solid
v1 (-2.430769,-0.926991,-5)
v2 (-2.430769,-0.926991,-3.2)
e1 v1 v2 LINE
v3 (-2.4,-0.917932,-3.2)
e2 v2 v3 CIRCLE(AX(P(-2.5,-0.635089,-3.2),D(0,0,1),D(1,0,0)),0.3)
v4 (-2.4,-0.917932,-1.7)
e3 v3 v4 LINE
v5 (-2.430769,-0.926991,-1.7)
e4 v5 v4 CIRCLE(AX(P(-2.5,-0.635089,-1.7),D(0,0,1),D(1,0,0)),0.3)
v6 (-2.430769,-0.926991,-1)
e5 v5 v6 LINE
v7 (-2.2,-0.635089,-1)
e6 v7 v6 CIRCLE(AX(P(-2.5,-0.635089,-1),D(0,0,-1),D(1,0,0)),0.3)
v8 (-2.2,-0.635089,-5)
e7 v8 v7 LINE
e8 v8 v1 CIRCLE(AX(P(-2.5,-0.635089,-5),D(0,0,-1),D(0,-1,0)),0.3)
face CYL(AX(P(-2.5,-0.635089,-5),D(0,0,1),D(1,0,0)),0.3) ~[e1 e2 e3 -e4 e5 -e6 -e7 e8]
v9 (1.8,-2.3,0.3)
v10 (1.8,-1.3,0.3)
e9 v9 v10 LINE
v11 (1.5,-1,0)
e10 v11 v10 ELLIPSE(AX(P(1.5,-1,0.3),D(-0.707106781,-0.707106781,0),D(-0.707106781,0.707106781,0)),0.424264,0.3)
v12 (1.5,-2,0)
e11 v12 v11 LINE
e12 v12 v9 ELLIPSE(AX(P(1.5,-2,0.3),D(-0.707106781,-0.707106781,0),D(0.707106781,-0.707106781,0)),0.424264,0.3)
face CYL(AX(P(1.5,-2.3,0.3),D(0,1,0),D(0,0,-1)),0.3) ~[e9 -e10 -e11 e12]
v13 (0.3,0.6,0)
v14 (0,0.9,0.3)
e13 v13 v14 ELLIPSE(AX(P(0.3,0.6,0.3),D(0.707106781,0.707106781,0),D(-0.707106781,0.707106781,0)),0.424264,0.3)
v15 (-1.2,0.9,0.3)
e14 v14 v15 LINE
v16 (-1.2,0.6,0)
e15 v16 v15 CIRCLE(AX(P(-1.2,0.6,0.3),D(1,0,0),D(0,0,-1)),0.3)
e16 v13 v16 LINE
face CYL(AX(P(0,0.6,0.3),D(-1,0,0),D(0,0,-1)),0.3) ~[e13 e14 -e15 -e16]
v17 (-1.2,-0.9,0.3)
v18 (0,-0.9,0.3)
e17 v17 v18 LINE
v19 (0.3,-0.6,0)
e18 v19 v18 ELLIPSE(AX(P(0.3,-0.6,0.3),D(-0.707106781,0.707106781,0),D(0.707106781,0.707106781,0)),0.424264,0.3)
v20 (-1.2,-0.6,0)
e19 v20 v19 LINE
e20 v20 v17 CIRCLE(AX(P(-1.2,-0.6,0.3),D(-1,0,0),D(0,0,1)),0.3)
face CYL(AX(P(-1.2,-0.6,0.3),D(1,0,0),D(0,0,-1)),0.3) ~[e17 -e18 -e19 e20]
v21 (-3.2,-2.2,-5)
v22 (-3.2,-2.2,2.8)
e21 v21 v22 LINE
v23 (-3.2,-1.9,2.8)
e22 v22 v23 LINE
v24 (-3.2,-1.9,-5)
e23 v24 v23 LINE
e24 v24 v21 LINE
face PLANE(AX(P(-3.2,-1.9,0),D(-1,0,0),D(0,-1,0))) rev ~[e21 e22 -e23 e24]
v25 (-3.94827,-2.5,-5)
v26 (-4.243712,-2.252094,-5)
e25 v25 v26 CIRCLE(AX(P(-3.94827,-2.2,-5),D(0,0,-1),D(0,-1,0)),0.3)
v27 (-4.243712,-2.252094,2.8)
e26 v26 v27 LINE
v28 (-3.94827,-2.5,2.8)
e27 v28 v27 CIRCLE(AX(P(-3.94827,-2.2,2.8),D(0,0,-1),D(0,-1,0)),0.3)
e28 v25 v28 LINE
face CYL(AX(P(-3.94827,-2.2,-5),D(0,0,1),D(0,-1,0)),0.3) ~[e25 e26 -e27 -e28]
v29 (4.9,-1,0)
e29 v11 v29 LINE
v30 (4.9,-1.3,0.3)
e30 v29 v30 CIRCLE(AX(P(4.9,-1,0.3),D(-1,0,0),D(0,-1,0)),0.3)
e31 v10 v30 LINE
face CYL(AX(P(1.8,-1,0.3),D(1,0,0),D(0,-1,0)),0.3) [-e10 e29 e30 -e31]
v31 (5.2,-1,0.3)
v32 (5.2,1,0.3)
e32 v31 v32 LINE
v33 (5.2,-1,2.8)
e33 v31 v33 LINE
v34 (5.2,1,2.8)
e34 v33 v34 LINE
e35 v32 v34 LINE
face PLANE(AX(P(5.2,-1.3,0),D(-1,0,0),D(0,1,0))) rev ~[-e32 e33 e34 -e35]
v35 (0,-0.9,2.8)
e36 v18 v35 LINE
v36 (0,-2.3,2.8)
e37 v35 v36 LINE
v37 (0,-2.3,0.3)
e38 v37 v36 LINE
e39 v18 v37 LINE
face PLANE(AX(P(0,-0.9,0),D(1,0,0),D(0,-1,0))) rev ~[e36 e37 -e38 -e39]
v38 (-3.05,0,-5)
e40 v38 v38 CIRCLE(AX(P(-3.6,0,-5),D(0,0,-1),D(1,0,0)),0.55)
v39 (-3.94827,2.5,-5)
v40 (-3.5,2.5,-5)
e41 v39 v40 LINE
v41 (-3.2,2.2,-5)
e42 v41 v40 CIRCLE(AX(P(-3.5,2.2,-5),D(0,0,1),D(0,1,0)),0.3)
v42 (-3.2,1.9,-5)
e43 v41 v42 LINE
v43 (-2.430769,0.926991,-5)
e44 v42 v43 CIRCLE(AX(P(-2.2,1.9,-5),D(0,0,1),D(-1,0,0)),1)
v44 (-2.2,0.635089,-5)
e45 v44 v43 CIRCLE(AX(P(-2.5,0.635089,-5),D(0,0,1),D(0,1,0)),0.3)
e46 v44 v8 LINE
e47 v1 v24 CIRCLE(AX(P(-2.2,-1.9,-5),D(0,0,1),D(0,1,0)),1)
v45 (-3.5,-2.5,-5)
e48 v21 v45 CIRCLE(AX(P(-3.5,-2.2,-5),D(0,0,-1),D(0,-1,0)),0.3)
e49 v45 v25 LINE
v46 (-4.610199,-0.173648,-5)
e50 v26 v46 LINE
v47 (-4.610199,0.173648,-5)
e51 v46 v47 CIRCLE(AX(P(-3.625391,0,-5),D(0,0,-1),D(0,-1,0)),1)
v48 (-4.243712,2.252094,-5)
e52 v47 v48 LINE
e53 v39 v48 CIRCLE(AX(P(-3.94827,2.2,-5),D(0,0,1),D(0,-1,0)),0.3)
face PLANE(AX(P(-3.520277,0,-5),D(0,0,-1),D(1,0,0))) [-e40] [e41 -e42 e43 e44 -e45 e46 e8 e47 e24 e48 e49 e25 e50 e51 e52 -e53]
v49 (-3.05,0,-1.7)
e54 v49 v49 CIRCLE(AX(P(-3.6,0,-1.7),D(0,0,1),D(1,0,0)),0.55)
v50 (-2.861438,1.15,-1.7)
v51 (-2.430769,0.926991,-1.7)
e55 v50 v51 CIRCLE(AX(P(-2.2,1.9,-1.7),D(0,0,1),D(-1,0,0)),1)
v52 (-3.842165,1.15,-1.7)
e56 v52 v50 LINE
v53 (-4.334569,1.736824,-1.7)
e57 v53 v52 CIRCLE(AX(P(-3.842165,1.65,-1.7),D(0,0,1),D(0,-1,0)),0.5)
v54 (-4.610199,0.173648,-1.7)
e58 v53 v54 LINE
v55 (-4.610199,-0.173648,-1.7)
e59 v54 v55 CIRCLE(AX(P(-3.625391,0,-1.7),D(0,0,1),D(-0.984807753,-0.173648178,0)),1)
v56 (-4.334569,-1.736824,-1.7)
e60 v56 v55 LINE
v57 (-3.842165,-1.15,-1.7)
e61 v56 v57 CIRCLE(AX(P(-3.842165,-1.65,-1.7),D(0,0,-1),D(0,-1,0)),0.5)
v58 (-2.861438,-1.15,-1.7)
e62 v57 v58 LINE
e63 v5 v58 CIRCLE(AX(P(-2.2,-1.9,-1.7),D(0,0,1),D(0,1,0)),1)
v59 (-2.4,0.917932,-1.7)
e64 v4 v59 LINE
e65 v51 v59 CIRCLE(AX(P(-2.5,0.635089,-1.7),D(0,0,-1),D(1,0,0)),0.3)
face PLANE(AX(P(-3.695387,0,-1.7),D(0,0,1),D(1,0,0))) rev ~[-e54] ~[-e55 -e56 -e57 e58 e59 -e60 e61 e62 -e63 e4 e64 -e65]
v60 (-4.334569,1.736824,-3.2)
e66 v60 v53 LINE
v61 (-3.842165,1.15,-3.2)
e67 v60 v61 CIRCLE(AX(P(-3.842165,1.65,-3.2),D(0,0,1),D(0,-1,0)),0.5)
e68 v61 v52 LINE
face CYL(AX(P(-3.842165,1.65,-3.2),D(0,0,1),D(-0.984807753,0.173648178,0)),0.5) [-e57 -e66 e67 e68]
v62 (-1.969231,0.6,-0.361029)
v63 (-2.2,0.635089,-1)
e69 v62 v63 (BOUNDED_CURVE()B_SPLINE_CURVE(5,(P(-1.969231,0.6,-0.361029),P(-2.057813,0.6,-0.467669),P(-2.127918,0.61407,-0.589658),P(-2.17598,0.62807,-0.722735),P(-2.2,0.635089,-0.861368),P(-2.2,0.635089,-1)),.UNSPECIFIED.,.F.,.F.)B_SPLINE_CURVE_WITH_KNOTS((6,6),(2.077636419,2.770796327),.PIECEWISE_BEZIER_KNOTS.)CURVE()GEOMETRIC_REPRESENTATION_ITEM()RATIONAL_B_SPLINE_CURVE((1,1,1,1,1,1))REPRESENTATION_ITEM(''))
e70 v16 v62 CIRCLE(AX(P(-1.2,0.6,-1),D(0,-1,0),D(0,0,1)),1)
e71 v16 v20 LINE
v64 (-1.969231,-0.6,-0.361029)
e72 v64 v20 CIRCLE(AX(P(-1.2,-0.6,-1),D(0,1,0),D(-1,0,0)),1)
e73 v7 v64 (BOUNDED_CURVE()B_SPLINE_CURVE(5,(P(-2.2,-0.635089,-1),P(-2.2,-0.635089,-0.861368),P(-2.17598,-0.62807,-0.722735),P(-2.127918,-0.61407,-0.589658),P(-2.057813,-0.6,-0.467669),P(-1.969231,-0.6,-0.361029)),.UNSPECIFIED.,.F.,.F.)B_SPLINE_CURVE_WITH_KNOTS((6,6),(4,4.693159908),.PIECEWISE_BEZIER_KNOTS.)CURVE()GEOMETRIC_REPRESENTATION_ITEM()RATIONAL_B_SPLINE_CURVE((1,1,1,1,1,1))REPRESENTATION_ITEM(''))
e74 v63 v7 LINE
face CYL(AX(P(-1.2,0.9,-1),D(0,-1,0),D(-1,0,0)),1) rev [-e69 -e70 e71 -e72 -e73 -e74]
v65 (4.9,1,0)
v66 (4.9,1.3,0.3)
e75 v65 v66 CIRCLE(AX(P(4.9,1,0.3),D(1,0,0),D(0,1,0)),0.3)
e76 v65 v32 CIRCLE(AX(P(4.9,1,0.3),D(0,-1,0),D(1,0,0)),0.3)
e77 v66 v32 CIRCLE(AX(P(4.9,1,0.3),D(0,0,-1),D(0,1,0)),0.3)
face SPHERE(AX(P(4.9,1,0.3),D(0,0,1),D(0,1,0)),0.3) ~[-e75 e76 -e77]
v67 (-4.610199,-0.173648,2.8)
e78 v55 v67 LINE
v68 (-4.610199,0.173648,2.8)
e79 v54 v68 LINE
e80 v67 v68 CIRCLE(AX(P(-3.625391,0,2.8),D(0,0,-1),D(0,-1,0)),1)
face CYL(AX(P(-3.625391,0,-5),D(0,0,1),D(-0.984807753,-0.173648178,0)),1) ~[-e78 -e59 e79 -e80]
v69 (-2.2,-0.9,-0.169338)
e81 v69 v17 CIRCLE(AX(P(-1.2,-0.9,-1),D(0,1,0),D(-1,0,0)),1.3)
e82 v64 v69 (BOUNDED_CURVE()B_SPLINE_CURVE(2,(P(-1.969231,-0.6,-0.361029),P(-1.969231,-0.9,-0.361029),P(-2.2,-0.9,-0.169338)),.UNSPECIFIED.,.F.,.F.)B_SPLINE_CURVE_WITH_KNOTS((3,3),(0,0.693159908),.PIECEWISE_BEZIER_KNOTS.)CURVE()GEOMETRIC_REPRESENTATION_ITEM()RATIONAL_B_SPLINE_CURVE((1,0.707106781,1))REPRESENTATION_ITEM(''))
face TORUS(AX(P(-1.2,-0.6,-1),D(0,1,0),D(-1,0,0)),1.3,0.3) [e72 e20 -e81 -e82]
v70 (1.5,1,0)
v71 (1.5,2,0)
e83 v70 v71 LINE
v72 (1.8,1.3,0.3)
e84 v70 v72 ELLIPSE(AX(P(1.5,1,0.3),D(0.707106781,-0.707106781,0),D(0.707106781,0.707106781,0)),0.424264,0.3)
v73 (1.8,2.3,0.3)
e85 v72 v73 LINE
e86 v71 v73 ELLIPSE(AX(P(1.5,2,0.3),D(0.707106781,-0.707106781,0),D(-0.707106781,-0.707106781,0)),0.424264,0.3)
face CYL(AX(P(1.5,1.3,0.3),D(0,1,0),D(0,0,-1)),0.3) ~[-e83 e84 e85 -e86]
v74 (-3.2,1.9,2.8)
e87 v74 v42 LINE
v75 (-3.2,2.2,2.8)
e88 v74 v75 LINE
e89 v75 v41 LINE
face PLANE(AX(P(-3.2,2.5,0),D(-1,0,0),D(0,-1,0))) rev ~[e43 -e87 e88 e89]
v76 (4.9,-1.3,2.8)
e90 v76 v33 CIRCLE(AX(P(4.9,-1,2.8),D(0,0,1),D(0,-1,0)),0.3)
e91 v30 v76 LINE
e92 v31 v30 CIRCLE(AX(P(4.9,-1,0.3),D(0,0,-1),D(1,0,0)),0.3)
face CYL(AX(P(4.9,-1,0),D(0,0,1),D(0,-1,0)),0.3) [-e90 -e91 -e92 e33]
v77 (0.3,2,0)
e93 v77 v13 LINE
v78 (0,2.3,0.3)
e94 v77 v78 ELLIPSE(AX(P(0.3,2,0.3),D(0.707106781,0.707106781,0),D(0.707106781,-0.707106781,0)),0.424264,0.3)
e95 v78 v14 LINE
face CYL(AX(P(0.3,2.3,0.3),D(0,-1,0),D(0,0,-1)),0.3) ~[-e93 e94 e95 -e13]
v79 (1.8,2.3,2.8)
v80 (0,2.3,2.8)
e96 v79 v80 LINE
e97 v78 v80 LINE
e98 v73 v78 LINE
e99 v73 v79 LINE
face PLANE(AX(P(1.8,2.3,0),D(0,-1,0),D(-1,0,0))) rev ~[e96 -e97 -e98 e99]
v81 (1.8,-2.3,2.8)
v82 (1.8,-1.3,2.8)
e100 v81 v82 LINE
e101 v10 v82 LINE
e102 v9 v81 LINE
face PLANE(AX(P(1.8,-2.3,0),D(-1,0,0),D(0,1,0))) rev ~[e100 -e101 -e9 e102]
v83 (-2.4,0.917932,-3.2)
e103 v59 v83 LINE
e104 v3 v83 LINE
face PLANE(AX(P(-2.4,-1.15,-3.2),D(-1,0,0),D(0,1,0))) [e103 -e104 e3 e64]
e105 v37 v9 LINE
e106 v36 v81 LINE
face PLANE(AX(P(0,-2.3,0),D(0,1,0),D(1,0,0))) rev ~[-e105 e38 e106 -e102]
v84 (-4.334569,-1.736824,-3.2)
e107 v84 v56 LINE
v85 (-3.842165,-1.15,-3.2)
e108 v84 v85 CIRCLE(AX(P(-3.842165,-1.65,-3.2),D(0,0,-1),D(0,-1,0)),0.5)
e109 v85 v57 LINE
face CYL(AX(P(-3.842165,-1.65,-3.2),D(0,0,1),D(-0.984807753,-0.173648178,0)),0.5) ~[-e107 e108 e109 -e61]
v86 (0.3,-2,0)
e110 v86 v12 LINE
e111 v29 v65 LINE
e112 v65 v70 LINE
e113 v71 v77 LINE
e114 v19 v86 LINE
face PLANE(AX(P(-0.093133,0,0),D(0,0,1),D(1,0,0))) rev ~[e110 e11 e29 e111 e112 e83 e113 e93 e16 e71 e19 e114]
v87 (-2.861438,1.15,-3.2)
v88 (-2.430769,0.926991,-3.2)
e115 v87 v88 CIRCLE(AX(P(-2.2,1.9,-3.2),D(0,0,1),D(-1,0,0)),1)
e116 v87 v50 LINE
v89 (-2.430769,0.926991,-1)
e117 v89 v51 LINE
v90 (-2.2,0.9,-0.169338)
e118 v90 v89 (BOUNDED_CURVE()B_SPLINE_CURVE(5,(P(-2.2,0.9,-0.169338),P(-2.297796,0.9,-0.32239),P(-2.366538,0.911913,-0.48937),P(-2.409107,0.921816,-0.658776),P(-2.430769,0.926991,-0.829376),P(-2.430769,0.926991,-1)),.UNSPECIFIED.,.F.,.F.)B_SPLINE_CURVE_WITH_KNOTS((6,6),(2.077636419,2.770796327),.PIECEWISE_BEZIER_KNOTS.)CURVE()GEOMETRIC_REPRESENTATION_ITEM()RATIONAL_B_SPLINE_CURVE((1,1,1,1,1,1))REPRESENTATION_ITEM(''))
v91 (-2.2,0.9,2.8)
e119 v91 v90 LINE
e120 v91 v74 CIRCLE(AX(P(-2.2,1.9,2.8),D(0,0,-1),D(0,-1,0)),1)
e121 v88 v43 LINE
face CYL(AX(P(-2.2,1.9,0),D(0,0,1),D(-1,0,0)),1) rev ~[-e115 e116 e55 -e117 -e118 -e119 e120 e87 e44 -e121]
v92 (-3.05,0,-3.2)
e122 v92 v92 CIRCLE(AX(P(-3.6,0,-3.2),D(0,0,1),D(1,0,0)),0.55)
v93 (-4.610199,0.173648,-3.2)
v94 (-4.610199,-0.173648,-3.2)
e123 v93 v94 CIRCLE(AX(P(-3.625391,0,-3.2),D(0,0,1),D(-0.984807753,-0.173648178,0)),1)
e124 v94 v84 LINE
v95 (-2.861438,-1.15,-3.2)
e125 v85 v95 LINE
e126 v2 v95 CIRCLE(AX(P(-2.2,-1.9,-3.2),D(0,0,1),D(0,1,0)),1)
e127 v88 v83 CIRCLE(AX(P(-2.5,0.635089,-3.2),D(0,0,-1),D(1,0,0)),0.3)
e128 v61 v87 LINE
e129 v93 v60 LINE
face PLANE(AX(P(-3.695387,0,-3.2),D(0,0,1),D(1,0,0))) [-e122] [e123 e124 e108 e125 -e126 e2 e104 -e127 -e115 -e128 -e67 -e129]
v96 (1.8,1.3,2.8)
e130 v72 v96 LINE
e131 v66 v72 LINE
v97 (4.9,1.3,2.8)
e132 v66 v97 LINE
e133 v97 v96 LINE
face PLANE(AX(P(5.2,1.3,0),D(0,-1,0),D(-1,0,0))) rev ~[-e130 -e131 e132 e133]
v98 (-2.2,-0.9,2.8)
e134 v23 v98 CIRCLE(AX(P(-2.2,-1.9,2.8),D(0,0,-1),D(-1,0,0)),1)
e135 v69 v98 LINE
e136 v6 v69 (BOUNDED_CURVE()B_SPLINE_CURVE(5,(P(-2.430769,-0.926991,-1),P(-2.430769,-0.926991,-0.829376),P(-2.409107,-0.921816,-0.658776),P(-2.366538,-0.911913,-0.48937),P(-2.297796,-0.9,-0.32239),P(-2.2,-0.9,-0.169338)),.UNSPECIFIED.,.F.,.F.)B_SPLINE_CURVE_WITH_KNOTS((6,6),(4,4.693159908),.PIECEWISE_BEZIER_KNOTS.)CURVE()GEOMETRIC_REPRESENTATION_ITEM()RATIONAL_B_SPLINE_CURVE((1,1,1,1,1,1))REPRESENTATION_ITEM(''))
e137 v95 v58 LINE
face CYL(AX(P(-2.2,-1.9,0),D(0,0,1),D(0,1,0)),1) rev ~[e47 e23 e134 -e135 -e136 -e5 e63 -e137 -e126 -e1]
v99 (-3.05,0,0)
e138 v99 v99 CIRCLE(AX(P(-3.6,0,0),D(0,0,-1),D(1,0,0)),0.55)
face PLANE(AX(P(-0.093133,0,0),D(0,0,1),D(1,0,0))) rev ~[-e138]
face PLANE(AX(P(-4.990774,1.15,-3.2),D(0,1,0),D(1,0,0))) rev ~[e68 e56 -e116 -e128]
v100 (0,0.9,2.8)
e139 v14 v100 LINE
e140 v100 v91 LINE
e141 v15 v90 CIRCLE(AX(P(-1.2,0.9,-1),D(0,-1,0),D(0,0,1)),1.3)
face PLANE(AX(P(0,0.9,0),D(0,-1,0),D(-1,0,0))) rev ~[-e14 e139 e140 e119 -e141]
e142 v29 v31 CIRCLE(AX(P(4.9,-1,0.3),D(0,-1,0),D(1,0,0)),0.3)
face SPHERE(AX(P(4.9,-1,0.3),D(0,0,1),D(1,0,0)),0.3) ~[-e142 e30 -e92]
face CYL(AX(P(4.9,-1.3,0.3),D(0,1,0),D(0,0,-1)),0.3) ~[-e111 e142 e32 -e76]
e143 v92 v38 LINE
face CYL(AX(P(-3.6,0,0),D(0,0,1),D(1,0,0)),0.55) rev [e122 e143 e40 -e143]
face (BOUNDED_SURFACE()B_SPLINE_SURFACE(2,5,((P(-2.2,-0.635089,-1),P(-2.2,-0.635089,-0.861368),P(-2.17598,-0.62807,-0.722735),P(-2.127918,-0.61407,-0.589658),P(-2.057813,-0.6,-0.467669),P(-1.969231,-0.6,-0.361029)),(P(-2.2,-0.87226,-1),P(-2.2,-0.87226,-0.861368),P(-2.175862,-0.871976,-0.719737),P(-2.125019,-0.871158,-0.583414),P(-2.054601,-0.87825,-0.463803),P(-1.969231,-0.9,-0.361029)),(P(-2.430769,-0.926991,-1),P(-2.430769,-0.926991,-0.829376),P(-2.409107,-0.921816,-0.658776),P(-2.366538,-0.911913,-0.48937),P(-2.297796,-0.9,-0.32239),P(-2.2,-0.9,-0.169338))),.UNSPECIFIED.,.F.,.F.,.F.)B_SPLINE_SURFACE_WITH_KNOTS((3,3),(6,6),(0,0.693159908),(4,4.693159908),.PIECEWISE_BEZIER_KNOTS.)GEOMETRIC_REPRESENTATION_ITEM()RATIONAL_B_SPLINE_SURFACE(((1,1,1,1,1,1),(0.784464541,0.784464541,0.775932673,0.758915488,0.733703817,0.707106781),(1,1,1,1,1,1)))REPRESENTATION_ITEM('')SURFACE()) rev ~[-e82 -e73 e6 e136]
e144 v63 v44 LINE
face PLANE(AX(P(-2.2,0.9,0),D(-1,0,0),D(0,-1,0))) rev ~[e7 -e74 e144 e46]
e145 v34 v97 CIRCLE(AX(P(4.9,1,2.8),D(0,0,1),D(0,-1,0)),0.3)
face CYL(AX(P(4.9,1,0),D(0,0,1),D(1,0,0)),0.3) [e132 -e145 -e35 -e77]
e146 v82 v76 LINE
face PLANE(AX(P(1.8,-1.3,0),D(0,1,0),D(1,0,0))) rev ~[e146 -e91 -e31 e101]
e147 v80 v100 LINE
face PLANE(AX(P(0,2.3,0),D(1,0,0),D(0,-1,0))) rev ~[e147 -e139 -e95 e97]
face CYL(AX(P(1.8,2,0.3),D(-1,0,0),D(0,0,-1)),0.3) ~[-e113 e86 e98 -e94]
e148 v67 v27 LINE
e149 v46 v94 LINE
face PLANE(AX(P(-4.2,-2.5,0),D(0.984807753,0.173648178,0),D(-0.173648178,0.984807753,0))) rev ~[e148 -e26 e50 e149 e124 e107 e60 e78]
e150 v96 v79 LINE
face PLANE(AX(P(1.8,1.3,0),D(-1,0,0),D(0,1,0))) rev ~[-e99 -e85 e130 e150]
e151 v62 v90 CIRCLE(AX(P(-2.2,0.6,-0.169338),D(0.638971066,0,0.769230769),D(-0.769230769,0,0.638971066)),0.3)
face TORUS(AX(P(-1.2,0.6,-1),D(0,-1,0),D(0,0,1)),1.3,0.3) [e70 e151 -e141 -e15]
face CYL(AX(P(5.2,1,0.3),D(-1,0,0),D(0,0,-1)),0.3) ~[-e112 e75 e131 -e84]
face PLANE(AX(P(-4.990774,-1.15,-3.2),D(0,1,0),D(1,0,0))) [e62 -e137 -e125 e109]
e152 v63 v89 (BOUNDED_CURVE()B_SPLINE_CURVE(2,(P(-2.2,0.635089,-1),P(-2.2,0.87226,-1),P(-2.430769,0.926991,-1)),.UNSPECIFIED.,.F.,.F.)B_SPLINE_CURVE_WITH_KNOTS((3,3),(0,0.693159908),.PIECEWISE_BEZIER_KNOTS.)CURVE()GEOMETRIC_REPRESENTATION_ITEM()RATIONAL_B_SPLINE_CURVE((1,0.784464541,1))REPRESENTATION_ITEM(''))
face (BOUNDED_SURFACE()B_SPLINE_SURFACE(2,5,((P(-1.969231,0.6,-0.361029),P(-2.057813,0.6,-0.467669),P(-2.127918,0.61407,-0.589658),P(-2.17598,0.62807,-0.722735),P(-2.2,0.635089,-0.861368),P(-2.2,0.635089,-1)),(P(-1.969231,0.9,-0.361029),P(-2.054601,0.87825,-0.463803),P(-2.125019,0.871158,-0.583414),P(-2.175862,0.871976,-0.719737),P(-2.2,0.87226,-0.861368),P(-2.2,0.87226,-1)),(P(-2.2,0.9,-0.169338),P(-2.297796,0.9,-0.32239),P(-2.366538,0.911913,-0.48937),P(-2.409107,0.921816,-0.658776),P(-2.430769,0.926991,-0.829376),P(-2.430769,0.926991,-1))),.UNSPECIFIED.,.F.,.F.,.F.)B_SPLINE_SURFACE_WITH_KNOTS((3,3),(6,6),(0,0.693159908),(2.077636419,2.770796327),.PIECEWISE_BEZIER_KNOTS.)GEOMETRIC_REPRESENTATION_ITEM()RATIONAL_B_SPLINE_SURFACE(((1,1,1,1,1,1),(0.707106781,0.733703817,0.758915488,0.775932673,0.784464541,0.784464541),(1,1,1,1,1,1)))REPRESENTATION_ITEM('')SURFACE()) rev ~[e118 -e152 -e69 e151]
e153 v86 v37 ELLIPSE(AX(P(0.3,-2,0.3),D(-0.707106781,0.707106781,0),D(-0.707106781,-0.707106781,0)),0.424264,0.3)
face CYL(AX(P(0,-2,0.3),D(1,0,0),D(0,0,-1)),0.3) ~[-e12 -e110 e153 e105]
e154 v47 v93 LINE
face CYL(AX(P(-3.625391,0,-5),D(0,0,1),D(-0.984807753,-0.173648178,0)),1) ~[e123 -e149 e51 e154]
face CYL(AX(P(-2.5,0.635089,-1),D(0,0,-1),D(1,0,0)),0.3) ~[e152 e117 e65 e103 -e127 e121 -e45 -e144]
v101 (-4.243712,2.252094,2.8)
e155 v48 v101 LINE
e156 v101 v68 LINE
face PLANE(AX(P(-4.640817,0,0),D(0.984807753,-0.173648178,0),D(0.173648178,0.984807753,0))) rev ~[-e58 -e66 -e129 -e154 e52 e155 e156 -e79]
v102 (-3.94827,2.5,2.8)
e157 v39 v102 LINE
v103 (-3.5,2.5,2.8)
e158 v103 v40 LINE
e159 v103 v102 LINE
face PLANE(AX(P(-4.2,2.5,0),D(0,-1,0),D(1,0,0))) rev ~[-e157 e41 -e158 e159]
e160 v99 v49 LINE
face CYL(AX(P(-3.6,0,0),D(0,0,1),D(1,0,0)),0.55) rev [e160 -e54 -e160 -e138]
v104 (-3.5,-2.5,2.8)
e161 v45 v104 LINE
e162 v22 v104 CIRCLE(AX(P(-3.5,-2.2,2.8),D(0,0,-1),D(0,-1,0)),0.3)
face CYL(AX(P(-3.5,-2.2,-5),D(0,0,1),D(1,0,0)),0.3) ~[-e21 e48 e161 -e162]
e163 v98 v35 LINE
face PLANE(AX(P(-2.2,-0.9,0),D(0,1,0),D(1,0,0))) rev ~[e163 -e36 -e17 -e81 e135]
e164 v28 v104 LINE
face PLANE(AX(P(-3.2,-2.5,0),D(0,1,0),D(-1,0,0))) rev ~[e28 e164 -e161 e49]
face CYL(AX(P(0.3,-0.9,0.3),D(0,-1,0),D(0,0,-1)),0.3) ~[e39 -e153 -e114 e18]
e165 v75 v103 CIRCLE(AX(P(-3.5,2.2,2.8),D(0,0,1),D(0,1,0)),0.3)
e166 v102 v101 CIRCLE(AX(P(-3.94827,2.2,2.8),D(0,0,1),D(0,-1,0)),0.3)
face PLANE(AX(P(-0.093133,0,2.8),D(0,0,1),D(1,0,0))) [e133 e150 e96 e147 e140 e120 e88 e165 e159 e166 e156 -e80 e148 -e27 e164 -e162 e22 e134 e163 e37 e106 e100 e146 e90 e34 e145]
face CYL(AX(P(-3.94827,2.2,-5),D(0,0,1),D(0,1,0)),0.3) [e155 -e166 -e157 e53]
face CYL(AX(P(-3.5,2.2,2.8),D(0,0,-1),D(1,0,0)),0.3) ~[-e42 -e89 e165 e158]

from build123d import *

# Parameters (mm, degrees)
F1_DEPTH = 2.8
F2_R     = 0.55
F3_DEPTH = 5
F4_R     = 1
F5_R     = 0.3
F7_W     = 2.5907744158
F7_H     = 2.3
F8_DEPTH = 1.5
F9_R     = 0.5


with BuildPart() as f1:
    # F0 (on Top) → F1 (new body)
    with BuildSketch(Plane.XY):
        with BuildLine():
            Line((-4.2, -2.5), (-3.2, -2.5))
            Line((-3.2, -2.5), (-3.2, -1.9))
            ThreePointArc((-3.2, -1.9), (-2.9071067812, -1.1928932188), (-2.2, -0.9))
            Line((-2.2, -0.9), (0, -0.9))
            Line((0, -0.9), (0, -2.3))
            Line((0, -2.3), (1.8, -2.3))
            Line((1.8, -2.3), (1.8, -1.3))
            Line((1.8, -1.3), (5.2, -1.3))
            Line((5.2, -1.3), (5.2, 0))
            Line((5.2, 0), (5.2, 1.3))
            Line((5.2, 1.3), (1.8, 1.3))
            Line((1.8, 1.3), (1.8, 2.3))
            Line((1.8, 2.3), (0, 2.3))
            Line((0, 2.3), (0, 0.9))
            Line((0, 0.9), (-2.2, 0.9))
            ThreePointArc((-2.2, 0.9), (-2.9071067812, 1.1928932188), (-3.2, 1.9))
            Line((-3.2, 1.9), (-3.2, 2.5))
            Line((-3.2, 2.5), (-4.2, 2.5))
            Line((-4.2, 2.5), (-4.6408174518, 0))
            Line((-4.6408174518, 0), (-4.2, -2.5))
        make_face()
    extrude(amount=F1_DEPTH)

    # F2 (on face) → F3 (join)
    with BuildSketch(Plane(origin=(0, 0, 0), x_dir=(1, 0, 0), z_dir=(0, 0, -1))):
        with BuildLine():
            Line((-4.2, -2.5), (-3.2, -2.5))
            Line((-3.2, -2.5), (-3.2, -1.9))
            ThreePointArc((-3.2, -1.9), (-2.9071067812, -1.1928932188), (-2.2, -0.9))
            Line((-2.2, -0.9), (-2.2, 0.9))
            ThreePointArc((-2.2, 0.9), (-2.9071067812, 1.1928932188), (-3.2, 1.9))
            Line((-3.2, 1.9), (-3.2, 2.5))
            Line((-3.2, 2.5), (-4.2, 2.5))
            Line((-4.2, 2.5), (-4.6408174518, 0))
            Line((-4.6408174518, 0), (-4.2, -2.5))
        make_face()
        with Locations((-3.6, 0)):
            Circle(F2_R, mode=Mode.SUBTRACT)
    extrude(amount=F3_DEPTH)

    # F4
    f4_edges = [f1.edges().sort_by_distance(p)[0] for p in [
        (-2.2, 0, 0),
        (-4.640817, 0, -1.1),
    ]]
    fillet(f4_edges, radius=F4_R)

    # F5
    f5_edges = [f1.edges().sort_by_distance(p)[0] for p in [
        (5.2, -1.3, 1.4),
        (5.2, 1.3, 1.4),
        (-3.2, 2.5, -1.1),
        (-4.2, 2.5, -1.1),
        (-3.2, -2.5, -1.1),
        (-4.2, -2.5, -1.1),
        (-0.6, 0.9, 0),
        (-1.2, 0, 0),
        (0, 1.6, 0),
        (-0.6, -0.9, 0),
        (0.9, 2.3, 0),
        (0, -1.6, 0),
        (1.8, 1.8, 0),
        (0.9, -2.3, 0),
        (3.5, 1.3, 0),
        (1.8, -1.8, 0),
        (5.2, 0, 0),
        (3.5, -1.3, 0),
    ]]
    fillet(f5_edges, radius=F5_R)

    # F7 (on offset) → F8 (cut)
    with BuildSketch(Plane.XY.offset(-3.2)):
        with Locations((-3.6953872079, 0)):
            Rectangle(F7_W, F7_H)
    extrude(amount=F8_DEPTH, mode=Mode.SUBTRACT)

    # F9
    f9_edges = [f1.edges().sort_by_distance(p)[0] for p in [
        (-4.438041, 1.15, -2.45),
        (-4.438041, -1.15, -2.45),
    ]]
    fillet(f9_edges, radius=F9_R)


solid = f1.part
